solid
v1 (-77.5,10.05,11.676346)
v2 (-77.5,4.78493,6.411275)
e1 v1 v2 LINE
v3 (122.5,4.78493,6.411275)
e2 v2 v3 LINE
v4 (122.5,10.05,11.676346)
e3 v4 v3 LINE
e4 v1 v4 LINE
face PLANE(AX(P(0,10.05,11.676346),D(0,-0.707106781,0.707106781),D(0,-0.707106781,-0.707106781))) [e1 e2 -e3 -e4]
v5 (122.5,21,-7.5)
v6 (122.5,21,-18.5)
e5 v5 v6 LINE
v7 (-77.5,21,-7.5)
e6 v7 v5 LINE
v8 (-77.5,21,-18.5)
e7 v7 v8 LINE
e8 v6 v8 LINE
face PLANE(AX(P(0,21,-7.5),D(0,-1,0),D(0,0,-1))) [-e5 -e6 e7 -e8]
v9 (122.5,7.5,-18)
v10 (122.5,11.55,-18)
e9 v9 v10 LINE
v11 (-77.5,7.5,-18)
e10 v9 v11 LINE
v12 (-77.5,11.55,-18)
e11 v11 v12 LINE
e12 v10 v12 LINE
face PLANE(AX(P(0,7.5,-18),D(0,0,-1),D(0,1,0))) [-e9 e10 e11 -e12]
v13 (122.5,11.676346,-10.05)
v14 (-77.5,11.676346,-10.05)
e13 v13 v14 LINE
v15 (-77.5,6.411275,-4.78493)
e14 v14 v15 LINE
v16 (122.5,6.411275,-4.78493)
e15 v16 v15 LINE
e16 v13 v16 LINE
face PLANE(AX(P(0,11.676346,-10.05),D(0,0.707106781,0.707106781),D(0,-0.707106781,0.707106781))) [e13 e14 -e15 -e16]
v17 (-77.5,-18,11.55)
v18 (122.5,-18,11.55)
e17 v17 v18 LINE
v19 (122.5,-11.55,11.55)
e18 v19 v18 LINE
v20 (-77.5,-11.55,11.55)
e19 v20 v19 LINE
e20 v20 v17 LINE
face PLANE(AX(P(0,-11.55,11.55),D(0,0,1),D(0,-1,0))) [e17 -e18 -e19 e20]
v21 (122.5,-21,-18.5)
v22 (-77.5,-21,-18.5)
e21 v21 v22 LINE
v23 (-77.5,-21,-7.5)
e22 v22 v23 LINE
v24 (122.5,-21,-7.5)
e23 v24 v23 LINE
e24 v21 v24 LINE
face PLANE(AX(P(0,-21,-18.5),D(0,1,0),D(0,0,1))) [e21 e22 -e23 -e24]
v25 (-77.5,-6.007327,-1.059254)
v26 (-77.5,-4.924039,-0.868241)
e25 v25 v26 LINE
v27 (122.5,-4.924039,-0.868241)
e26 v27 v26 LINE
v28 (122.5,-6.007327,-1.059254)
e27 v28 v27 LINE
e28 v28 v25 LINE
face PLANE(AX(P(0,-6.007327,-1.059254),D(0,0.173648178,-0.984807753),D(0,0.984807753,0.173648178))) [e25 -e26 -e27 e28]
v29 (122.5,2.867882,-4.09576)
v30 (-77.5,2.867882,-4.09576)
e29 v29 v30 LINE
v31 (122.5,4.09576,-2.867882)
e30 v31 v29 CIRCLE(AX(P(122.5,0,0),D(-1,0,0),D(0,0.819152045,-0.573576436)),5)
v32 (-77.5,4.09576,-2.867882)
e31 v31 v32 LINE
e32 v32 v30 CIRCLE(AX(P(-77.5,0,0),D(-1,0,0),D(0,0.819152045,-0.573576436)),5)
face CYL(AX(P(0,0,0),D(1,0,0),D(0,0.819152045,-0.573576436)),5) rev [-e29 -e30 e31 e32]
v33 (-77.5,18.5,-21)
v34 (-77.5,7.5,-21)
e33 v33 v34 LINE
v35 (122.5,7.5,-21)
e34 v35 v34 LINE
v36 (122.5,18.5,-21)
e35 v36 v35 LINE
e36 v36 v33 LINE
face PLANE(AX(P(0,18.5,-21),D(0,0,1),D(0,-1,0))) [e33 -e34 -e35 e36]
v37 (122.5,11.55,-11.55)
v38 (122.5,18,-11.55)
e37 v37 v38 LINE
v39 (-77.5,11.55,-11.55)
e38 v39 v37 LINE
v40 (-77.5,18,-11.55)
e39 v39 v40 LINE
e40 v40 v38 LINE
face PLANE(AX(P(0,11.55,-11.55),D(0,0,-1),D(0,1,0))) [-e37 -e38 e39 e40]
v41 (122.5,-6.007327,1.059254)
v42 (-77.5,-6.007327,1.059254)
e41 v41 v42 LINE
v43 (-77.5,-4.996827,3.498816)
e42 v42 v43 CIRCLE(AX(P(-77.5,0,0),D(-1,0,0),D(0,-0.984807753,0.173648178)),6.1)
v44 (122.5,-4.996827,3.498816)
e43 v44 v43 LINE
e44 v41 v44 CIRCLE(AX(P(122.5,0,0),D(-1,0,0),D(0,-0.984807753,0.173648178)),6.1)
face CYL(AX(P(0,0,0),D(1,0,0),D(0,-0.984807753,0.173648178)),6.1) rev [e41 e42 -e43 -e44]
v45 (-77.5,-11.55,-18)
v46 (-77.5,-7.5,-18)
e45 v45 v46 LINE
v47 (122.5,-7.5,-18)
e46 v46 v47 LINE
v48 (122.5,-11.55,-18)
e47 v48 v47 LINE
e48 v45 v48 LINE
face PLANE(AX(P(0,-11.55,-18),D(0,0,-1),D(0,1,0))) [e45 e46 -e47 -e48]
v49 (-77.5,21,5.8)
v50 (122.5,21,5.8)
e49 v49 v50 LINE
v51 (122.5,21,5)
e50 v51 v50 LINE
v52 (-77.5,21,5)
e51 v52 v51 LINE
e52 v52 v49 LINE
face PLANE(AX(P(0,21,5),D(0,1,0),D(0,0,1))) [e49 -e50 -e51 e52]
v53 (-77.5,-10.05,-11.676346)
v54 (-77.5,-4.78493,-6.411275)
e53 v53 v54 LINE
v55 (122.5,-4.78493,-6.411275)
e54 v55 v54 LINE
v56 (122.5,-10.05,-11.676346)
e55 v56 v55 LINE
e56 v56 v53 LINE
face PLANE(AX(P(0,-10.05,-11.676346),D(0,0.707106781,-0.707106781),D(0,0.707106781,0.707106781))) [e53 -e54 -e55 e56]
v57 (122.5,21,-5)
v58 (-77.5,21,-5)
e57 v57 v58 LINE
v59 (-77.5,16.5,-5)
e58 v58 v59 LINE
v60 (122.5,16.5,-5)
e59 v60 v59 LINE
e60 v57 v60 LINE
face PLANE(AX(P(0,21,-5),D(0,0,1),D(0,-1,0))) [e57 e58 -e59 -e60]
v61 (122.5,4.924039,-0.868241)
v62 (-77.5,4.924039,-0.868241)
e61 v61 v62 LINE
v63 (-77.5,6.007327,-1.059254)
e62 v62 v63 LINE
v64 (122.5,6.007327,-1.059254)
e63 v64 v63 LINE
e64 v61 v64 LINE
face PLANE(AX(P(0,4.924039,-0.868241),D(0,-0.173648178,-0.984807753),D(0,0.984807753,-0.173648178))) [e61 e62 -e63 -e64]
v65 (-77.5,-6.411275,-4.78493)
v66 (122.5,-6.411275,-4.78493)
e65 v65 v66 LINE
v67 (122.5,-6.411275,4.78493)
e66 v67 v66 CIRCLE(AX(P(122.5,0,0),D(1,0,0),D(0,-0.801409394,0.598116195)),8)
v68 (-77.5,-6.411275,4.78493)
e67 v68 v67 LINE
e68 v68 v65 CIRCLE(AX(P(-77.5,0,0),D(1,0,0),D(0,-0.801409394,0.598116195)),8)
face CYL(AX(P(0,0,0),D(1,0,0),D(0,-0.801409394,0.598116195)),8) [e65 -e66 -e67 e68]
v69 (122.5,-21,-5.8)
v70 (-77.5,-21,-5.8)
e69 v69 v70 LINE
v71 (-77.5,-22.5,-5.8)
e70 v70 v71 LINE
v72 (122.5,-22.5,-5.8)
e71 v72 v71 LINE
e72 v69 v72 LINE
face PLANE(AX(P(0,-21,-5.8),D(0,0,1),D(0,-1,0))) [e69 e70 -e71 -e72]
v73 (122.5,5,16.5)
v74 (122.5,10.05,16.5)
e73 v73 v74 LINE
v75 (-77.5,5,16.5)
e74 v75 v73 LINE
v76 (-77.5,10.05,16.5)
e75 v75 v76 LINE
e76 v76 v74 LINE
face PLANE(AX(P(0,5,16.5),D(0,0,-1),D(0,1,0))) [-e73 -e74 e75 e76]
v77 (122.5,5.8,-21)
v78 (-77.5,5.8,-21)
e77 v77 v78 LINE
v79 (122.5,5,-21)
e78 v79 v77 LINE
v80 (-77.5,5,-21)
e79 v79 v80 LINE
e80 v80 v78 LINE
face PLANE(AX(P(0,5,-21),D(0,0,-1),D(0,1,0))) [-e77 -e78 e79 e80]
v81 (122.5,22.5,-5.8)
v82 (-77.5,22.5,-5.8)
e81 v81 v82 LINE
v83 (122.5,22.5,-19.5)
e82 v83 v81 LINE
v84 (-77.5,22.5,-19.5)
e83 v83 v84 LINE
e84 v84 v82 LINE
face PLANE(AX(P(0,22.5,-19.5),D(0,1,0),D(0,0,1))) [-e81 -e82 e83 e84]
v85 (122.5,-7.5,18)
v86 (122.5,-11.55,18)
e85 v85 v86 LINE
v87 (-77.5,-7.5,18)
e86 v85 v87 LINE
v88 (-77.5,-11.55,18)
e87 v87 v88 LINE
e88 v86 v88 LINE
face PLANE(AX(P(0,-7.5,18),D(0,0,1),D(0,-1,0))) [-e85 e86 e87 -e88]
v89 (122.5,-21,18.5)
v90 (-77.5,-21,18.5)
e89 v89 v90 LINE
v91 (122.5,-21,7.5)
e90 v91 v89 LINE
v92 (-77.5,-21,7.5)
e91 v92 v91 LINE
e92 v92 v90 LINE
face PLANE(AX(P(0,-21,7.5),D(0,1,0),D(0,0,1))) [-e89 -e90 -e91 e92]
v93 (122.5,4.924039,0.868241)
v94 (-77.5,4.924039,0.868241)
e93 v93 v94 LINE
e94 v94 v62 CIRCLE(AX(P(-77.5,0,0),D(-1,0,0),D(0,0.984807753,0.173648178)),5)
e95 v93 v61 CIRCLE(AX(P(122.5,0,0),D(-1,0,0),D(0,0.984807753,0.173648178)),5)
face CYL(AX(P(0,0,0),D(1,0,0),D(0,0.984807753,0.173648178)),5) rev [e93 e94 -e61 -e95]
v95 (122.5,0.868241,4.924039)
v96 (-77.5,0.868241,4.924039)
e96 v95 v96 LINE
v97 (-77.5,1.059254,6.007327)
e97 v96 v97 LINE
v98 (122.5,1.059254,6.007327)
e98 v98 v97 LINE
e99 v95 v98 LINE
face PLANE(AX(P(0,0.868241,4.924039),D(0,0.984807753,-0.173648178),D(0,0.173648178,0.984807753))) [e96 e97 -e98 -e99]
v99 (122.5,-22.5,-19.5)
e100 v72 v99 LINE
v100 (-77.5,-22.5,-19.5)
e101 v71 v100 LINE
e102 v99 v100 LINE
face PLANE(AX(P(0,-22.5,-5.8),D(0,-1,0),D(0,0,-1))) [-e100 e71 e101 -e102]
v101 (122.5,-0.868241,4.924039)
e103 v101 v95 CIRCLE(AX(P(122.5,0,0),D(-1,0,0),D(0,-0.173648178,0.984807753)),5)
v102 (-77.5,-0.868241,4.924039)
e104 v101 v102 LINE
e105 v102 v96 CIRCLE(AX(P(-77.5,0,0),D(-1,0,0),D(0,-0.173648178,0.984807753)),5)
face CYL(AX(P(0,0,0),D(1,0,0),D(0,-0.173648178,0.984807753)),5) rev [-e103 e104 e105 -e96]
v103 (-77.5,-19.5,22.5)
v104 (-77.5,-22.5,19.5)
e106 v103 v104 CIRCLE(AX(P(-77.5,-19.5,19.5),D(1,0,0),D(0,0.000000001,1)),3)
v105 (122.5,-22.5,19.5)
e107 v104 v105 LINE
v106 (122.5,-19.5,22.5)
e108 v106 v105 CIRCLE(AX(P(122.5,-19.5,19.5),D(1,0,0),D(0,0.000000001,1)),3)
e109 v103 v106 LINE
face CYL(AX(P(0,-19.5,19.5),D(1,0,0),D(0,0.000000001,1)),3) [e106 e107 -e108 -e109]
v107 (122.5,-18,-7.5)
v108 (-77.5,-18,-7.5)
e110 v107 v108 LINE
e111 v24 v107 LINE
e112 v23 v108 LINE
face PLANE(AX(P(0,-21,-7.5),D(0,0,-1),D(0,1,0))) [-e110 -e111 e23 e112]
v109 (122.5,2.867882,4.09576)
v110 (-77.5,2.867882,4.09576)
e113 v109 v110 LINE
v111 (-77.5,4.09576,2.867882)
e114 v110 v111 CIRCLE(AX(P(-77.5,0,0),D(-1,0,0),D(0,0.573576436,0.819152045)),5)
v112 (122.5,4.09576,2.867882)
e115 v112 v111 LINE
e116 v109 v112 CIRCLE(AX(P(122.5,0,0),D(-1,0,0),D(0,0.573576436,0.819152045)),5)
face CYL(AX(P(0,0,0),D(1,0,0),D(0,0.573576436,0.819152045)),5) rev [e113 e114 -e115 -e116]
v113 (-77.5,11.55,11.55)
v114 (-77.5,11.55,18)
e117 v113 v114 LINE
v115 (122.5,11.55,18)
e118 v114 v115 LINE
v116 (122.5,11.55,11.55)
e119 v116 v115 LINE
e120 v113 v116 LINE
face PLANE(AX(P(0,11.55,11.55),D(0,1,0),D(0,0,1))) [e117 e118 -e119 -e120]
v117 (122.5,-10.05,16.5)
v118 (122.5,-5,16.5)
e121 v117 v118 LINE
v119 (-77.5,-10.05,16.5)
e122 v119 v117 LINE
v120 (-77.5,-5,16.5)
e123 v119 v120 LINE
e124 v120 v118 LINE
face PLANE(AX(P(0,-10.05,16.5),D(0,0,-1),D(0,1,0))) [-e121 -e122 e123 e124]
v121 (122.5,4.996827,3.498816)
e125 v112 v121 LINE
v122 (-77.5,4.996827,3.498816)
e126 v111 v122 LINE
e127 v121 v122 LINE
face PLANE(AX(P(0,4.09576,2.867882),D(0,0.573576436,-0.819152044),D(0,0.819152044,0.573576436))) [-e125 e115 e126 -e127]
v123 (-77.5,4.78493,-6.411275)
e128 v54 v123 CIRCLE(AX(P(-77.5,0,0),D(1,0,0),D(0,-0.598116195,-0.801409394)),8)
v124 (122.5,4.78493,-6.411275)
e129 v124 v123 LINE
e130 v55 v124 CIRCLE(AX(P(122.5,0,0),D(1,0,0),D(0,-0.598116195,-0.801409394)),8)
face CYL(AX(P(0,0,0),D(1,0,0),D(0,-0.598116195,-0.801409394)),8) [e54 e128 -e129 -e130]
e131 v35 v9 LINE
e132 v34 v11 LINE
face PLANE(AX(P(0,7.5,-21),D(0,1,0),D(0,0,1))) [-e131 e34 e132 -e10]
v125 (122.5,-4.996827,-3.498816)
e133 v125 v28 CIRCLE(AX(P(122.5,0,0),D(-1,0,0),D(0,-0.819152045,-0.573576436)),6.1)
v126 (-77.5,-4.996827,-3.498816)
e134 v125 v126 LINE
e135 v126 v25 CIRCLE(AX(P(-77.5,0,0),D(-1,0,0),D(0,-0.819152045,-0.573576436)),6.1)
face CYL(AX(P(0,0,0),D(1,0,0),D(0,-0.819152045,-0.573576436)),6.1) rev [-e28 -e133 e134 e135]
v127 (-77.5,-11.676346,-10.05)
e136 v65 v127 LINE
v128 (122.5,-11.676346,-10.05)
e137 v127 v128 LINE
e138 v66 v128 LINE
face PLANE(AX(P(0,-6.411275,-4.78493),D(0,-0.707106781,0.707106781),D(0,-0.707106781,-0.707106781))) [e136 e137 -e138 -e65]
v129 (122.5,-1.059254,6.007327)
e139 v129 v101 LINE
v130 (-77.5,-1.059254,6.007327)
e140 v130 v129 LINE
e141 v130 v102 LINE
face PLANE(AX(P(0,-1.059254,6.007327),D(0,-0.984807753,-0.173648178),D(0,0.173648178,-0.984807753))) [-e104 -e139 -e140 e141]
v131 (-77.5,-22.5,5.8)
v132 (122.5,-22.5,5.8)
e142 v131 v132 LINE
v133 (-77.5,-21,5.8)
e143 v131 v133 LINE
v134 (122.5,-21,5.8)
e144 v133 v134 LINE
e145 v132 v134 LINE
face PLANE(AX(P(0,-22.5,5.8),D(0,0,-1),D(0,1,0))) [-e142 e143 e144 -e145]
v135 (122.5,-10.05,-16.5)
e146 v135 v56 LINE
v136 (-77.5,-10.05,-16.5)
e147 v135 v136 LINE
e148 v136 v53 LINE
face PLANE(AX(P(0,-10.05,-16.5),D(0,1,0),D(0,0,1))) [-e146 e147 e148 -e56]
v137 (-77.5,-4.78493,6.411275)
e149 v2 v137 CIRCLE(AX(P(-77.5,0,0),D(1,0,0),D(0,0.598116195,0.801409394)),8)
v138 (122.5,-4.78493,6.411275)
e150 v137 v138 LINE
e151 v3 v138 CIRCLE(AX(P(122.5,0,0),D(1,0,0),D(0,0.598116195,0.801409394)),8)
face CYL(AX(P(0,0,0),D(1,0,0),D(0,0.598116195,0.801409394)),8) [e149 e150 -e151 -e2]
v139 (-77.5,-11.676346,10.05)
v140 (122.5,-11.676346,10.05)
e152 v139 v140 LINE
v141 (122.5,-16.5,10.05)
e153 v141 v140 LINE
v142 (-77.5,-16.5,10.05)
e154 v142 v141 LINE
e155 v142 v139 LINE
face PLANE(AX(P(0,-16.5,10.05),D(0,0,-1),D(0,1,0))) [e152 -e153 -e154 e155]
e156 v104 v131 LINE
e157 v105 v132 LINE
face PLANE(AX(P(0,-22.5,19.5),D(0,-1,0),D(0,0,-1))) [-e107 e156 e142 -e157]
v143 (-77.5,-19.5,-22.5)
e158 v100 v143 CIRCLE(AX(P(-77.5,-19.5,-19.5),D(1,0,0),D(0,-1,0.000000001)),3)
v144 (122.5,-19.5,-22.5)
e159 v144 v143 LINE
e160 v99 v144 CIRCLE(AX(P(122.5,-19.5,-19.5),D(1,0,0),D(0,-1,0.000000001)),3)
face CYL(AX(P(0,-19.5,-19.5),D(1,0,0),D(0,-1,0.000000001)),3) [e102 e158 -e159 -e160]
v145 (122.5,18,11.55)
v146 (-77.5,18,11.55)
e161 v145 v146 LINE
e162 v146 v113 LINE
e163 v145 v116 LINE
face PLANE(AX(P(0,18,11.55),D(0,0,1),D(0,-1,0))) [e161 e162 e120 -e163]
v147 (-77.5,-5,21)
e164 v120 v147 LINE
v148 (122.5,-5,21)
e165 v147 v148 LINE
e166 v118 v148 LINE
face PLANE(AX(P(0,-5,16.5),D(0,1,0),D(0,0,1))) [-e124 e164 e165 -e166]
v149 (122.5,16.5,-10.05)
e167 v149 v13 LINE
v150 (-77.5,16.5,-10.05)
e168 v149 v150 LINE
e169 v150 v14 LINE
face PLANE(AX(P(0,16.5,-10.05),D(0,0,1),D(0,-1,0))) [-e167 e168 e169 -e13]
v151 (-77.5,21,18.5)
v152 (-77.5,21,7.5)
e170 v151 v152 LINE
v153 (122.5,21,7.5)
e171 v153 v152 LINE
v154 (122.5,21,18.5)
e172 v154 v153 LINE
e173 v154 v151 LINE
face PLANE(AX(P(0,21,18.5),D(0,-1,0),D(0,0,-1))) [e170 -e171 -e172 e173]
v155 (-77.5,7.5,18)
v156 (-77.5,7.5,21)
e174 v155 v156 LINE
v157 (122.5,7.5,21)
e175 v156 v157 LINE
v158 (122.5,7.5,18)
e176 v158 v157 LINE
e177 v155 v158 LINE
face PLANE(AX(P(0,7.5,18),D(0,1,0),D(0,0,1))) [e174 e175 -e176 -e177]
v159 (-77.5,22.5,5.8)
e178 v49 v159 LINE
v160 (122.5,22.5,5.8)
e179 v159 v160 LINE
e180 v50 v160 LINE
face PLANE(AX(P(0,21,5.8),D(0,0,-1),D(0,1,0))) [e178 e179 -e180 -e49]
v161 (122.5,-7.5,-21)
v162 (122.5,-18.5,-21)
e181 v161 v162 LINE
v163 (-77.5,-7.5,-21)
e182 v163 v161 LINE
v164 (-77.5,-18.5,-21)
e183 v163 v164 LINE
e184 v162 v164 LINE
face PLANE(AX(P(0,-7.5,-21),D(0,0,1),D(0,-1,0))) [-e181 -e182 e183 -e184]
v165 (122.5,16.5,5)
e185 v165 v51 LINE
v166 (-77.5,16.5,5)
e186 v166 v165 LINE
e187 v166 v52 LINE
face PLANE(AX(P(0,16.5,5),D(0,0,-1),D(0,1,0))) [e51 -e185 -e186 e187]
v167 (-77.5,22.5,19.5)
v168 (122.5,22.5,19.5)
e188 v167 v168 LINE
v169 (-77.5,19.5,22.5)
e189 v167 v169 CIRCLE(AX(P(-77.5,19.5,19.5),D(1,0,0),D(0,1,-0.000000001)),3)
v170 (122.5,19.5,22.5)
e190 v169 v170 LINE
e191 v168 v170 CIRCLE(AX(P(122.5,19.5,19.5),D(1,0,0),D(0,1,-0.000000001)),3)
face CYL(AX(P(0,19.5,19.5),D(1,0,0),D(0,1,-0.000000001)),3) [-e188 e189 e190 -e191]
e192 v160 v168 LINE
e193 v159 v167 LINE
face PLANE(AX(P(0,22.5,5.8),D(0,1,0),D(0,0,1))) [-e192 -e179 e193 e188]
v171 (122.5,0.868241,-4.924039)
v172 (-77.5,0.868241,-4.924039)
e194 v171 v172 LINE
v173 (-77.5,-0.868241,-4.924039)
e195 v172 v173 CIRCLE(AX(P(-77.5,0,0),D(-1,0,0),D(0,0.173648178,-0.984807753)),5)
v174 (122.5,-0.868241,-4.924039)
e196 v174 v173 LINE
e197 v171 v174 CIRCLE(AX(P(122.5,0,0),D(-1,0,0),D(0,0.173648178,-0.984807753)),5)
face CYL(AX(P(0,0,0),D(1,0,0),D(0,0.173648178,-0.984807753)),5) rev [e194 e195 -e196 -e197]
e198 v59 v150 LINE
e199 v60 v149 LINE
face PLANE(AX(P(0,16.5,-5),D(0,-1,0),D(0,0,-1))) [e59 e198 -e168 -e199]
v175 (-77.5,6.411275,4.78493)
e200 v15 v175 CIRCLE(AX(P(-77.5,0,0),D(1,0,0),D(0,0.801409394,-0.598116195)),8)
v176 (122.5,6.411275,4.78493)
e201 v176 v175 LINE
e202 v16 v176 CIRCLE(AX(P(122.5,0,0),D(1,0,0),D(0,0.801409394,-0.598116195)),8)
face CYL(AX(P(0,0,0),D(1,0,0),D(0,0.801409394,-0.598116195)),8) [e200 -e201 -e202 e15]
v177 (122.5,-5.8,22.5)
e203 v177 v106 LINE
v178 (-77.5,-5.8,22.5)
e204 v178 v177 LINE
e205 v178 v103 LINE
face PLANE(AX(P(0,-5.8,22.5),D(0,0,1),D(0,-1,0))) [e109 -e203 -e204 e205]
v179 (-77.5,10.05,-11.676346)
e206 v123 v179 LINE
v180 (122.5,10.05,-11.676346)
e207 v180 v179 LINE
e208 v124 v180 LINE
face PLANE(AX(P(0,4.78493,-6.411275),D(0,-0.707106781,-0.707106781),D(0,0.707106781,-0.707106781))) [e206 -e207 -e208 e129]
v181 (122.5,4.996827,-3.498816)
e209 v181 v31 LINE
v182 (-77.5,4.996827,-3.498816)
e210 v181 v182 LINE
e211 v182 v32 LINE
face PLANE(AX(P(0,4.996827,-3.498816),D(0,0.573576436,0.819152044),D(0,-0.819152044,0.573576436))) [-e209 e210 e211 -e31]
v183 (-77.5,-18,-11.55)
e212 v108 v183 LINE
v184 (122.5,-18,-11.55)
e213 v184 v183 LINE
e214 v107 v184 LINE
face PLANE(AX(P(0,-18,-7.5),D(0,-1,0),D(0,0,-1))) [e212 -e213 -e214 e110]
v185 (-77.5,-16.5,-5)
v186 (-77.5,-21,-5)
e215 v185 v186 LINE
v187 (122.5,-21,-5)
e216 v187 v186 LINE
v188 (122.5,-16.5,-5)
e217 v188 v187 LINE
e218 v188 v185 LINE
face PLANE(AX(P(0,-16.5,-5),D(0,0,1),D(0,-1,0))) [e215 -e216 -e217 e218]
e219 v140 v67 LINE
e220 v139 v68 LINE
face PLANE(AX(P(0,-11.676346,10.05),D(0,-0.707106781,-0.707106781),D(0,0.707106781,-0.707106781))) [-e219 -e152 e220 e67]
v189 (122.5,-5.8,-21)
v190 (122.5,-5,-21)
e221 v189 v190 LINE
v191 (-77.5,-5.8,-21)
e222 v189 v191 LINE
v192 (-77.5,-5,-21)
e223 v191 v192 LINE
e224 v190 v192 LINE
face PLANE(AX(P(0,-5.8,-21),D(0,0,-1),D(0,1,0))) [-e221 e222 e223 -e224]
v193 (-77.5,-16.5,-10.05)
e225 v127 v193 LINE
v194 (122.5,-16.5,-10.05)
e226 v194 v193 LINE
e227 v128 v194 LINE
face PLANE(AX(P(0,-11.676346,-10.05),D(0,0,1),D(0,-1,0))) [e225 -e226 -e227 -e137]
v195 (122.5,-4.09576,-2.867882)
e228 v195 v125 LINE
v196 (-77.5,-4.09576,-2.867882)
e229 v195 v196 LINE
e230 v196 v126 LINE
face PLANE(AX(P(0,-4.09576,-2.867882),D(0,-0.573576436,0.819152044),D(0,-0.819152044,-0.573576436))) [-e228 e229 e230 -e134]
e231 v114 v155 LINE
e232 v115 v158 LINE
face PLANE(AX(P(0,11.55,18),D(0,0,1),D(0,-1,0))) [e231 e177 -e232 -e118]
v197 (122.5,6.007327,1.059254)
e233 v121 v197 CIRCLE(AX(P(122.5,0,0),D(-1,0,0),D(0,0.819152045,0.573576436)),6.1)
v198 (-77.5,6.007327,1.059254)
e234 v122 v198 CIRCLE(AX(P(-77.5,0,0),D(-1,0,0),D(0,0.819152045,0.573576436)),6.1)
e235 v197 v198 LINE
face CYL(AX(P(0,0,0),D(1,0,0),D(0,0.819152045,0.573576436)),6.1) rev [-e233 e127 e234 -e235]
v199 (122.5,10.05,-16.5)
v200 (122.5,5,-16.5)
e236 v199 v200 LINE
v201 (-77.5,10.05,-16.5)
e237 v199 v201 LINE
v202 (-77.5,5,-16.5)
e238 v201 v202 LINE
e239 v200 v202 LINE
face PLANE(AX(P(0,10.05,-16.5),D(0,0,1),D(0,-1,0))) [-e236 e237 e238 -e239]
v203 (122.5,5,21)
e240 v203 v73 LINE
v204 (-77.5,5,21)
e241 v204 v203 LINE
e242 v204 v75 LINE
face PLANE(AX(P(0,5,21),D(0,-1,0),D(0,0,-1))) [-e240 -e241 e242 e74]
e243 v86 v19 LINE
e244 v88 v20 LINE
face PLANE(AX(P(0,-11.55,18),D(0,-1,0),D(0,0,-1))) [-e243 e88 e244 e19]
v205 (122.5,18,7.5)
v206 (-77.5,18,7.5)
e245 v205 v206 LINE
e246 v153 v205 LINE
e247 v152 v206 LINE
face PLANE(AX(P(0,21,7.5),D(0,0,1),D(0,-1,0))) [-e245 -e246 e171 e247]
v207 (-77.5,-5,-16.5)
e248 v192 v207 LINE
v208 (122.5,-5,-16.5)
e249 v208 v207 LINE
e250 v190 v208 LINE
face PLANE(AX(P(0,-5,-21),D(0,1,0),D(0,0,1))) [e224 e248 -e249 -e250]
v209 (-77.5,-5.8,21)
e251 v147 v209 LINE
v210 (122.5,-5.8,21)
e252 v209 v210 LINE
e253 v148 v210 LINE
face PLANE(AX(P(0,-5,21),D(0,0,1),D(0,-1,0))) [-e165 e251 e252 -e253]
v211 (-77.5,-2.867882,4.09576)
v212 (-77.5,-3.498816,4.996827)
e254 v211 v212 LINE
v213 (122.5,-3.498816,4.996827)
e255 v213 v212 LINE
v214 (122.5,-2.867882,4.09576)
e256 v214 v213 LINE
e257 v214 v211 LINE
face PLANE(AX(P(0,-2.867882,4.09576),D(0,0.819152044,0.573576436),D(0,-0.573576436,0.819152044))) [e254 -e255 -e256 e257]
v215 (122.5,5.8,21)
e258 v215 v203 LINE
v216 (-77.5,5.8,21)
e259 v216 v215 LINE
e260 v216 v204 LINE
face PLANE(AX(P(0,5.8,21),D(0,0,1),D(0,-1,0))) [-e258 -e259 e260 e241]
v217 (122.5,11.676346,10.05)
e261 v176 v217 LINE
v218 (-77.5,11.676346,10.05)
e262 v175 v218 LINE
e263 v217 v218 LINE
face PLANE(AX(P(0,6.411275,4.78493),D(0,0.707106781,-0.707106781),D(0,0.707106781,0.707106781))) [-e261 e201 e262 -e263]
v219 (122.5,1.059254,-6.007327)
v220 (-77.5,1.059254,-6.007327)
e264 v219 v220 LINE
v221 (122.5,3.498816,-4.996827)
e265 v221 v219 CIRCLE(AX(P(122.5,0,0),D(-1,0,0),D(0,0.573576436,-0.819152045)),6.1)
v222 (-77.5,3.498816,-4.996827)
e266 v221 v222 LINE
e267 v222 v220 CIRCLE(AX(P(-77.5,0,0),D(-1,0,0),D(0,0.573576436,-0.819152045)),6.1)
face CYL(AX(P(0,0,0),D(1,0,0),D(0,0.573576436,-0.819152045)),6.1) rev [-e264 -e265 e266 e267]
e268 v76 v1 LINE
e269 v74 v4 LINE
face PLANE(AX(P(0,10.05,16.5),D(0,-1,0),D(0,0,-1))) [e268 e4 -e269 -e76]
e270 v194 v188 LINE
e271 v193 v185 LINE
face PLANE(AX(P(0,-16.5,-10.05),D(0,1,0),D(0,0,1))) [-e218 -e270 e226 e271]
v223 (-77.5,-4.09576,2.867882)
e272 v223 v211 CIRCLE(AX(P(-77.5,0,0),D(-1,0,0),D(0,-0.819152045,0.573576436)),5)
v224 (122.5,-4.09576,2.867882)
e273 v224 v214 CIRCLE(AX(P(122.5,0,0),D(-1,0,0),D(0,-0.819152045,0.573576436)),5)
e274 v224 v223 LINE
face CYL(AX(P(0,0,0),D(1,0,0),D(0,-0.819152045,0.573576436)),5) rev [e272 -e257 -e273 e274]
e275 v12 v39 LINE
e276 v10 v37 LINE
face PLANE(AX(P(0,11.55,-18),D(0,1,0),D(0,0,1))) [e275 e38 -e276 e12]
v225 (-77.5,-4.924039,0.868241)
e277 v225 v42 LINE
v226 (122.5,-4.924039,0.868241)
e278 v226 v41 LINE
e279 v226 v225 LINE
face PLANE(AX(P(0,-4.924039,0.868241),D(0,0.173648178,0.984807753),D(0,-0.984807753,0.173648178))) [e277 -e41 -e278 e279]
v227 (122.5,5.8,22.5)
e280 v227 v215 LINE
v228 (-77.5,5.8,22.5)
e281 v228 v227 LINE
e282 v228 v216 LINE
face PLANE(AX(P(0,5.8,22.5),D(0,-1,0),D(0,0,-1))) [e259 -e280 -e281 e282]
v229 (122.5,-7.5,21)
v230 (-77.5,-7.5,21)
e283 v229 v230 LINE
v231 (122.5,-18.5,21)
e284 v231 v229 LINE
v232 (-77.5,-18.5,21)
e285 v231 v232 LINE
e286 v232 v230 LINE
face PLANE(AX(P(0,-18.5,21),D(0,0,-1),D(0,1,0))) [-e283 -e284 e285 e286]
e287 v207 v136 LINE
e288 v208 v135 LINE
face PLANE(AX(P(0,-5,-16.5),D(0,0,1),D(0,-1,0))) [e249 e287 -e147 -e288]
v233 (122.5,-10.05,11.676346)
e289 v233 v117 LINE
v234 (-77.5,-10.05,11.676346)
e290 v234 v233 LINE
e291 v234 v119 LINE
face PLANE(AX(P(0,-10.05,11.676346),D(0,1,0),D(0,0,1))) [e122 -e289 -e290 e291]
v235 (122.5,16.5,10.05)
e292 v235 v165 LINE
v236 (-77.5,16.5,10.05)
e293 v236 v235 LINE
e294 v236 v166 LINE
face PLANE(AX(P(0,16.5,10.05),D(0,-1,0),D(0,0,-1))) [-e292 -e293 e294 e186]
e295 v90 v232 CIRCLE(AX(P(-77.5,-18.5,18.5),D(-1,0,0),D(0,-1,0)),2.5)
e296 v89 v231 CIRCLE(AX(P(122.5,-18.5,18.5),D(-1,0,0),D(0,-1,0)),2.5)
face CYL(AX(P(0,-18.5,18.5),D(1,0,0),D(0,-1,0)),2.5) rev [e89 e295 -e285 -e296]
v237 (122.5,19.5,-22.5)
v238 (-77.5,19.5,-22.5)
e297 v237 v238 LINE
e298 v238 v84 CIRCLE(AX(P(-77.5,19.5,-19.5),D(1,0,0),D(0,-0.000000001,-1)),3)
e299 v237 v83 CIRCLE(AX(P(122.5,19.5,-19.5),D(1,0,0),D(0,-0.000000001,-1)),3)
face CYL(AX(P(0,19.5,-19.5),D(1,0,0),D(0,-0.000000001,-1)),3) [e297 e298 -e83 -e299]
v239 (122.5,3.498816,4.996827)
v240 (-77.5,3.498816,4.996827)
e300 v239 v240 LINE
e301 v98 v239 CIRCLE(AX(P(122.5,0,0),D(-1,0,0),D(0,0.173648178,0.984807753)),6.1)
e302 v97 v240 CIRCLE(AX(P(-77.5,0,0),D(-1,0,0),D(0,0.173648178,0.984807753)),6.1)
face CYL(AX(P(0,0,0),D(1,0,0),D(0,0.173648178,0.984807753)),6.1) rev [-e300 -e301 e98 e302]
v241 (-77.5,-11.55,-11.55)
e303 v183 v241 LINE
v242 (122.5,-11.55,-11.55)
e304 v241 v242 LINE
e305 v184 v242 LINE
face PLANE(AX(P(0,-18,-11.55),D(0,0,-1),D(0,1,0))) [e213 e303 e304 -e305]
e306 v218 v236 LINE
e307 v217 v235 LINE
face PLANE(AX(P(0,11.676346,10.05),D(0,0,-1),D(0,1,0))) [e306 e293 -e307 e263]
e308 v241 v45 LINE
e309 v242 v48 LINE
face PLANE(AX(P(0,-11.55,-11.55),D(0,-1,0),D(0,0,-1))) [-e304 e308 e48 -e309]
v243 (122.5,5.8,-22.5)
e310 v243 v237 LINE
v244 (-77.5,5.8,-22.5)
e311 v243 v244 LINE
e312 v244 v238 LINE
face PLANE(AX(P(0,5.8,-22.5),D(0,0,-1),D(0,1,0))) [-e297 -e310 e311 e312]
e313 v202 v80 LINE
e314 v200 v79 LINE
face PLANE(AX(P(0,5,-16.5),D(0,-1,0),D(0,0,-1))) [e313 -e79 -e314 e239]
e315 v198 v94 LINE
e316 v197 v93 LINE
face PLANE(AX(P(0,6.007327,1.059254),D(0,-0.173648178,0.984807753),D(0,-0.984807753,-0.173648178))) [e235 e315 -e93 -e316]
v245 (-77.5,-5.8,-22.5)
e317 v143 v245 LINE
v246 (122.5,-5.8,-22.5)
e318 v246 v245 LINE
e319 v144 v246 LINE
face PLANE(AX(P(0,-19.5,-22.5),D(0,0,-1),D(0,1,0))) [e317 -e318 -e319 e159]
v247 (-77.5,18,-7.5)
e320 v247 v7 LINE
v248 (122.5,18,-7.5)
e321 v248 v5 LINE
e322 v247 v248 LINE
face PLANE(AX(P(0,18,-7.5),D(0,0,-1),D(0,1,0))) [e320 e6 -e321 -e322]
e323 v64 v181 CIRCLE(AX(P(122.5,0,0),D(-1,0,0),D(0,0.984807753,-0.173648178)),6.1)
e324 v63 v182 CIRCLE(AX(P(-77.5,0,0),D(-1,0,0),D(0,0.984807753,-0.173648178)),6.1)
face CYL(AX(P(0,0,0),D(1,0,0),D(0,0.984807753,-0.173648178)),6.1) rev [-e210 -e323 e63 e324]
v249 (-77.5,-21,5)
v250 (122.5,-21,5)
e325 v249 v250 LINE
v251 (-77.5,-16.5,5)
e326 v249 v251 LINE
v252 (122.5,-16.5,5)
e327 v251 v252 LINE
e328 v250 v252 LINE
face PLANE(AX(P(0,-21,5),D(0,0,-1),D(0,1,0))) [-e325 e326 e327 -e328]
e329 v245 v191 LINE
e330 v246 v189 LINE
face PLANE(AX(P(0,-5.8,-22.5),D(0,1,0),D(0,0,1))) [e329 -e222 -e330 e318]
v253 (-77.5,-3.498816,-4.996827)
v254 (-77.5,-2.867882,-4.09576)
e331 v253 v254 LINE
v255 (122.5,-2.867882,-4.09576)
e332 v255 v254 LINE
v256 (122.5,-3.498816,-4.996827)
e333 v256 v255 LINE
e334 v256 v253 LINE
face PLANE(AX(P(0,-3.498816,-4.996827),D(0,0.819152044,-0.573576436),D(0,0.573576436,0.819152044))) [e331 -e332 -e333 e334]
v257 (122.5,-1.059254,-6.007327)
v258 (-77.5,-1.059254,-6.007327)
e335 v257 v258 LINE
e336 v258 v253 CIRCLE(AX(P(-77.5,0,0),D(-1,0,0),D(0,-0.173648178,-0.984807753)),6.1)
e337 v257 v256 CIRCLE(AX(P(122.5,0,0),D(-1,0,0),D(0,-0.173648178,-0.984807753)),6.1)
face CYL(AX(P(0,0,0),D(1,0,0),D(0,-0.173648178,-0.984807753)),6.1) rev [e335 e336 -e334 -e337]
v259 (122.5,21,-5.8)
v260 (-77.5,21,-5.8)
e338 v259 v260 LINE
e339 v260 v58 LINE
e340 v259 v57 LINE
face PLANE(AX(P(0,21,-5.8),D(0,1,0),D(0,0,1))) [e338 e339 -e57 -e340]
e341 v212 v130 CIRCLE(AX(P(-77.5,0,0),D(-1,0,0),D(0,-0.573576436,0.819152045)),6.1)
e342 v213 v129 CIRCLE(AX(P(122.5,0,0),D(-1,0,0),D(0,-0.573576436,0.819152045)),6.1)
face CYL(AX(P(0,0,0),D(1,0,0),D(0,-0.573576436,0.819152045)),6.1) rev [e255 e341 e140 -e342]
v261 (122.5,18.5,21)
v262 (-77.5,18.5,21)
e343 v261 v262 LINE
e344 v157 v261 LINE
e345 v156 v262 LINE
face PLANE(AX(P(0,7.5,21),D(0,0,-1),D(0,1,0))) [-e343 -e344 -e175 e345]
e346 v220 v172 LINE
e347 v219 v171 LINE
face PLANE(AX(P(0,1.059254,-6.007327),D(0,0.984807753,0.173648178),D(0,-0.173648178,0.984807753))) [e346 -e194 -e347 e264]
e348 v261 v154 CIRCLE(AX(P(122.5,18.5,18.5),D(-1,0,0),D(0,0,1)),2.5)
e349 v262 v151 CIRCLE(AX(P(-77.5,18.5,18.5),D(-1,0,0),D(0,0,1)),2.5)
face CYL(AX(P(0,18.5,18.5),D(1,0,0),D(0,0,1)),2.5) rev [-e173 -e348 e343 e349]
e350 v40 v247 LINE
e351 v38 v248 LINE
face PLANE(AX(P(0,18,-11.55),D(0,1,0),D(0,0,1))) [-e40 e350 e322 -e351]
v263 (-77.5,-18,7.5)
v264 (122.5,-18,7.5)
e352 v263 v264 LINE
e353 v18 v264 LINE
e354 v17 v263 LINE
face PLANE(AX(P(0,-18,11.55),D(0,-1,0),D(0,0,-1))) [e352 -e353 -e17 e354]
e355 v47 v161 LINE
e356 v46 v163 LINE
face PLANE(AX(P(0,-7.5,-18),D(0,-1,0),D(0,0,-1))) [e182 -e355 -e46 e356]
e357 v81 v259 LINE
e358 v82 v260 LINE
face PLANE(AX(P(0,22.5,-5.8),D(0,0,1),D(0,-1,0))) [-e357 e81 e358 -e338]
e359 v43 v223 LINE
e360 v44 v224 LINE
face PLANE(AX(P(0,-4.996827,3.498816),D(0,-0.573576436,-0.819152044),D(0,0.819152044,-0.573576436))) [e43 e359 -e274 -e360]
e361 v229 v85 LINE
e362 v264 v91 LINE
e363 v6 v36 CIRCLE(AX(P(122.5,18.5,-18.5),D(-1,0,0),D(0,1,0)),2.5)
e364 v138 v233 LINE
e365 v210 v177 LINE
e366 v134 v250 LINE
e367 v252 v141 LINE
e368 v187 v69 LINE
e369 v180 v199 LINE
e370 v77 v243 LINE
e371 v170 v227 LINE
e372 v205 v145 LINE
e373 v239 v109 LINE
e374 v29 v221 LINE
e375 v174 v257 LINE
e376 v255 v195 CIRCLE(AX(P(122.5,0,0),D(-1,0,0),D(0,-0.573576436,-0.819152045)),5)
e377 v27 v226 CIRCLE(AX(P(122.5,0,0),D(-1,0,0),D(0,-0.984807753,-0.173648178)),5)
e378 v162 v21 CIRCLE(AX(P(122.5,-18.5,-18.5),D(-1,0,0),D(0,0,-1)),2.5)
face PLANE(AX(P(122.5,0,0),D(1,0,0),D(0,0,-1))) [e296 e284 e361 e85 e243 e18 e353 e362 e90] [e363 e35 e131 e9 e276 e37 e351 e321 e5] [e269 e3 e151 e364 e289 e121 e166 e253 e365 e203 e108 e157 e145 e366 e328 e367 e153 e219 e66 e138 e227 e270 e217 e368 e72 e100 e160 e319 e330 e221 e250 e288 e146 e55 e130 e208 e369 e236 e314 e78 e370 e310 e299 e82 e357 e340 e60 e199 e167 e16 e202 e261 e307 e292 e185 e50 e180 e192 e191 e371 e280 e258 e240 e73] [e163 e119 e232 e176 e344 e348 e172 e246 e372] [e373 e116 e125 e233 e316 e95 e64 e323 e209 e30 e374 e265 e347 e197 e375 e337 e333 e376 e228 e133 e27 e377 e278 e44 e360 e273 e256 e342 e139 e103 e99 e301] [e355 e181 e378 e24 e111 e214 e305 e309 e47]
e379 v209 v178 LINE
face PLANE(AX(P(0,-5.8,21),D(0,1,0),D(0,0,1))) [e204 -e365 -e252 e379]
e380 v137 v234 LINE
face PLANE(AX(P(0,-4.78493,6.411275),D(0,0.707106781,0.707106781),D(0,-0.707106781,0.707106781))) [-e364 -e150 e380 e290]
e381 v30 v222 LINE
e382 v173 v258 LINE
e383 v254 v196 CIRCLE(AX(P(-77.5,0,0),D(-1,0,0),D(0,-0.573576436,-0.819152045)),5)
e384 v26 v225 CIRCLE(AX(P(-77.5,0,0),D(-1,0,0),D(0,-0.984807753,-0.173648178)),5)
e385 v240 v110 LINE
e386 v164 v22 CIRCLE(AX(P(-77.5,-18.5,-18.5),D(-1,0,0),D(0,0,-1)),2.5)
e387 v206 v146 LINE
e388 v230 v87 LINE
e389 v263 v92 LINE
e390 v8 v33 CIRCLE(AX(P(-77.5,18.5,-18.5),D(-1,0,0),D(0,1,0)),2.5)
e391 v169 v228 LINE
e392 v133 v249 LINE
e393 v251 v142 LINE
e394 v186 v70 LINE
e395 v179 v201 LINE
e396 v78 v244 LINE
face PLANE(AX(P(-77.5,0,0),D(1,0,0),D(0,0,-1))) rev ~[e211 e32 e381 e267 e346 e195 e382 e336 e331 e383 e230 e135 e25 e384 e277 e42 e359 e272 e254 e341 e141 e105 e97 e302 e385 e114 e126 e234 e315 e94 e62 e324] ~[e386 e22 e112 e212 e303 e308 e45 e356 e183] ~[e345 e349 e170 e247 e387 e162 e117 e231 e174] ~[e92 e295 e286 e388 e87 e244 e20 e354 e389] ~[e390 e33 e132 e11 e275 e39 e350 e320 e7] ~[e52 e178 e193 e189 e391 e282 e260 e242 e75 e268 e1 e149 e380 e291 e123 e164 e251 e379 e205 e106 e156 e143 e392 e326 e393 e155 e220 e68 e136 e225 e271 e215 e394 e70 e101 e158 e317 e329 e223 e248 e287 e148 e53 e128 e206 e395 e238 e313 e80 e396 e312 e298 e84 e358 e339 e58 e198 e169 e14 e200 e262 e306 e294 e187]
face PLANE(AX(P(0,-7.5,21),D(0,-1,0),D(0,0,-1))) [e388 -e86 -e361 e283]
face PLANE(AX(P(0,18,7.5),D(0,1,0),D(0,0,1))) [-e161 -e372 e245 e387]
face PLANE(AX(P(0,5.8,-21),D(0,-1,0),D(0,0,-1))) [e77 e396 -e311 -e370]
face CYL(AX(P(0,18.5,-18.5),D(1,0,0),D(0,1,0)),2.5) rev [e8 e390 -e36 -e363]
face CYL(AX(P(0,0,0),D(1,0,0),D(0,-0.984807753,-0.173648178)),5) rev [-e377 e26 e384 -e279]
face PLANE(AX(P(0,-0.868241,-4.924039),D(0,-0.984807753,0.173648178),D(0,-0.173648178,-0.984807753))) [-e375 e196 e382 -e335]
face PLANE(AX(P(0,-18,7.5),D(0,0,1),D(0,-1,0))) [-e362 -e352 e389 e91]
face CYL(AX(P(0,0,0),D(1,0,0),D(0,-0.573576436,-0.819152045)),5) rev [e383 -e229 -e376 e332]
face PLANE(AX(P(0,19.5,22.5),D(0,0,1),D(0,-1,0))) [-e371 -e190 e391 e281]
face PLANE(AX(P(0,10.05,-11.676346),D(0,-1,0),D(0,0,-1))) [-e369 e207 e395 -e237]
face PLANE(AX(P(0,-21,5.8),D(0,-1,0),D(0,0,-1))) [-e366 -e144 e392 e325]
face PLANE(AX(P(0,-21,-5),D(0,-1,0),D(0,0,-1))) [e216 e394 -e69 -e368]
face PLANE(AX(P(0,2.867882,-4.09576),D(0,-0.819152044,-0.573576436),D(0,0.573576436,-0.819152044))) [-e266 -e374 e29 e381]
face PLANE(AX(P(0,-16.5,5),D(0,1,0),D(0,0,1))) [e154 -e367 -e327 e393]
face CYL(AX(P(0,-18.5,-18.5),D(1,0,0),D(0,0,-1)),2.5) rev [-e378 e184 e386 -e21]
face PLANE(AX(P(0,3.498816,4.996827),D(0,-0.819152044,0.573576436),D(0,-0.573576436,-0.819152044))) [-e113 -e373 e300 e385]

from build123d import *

# Parameters (mm, degrees)
BR_EXTRUDE_DEPTH      = 122.5
BR_EXTRUDE_DEPTH_BACK = 77.5


with BuildPart() as part:
    # Sketch2 → BR_Extrude (new body, two sides)
    with BuildSketch(Plane(origin=(0, 0, 0), x_dir=(0, 0, -1), z_dir=(1, 0, 0))) as br_extrude_sk:
        with BuildLine():
            Line((-10.05, 11.676345597), (-10.05, 16.5))
            Line((-10.05, 16.5), (-5, 16.5))
            Line((-5, 16.5), (-5, 21))
            Line((-5, 21), (-5.8, 21))
            Line((-5.8, 21), (-5.8, 22.5))
            Line((-5.8, 22.5), (-19.5, 22.5))
            ThreePointArc((-19.5, 22.5), (-21.621320344, 21.621320344), (-22.5, 19.5))
            Line((-22.5, 19.5), (-22.5, 5.8))
            Line((-22.5, 5.8), (-21, 5.8))
            Line((-21, 5.8), (-21, 5))
            Line((-21, 5), (-16.5, 5))
            Line((-16.5, 5), (-16.5, 10.05))
            Line((-16.5, 10.05), (-11.676345597, 10.05))
            Line((-11.676345597, 10.05), (-6.411275155, 4.784929559))
            ThreePointArc((-6.411275155, 4.784929559), (-8, 0), (-6.411275155, -4.784929559))
            Line((-6.411275155, -4.784929559), (-11.676345597, -10.05))
            Line((-11.676345597, -10.05), (-16.5, -10.05))
            Line((-16.5, -10.05), (-16.5, -5))
            Line((-16.5, -5), (-21, -5))
            Line((-21, -5), (-21, -5.8))
            Line((-21, -5.8), (-22.5, -5.8))
            Line((-22.5, -5.8), (-22.5, -19.5))
            ThreePointArc((-22.5, -19.5), (-21.621320344, -21.621320344), (-19.5, -22.5))
            Line((-19.5, -22.5), (-5.8, -22.5))
            Line((-5.8, -22.5), (-5.8, -21))
            Line((-5.8, -21), (-5, -21))
            Line((-5, -21), (-5, -16.5))
            Line((-5, -16.5), (-10.05, -16.5))
            Line((-10.05, -16.5), (-10.05, -11.676345597))
            Line((-10.05, -11.676345597), (-4.784929559, -6.411275155))
            ThreePointArc((-4.784929559, -6.411275155), (0, -8), (4.784929559, -6.411275155))
            Line((4.784929559, -6.411275155), (10.05, -11.676345597))
            Line((10.05, -11.676345597), (10.05, -16.5))
            Line((10.05, -16.5), (5, -16.5))
            Line((5, -16.5), (5, -21))
            Line((5, -21), (5.8, -21))
            Line((5.8, -21), (5.8, -22.5))
            Line((5.8, -22.5), (19.5, -22.5))
            ThreePointArc((19.5, -22.5), (21.621320344, -21.621320344), (22.5, -19.5))
            Line((22.5, -19.5), (22.5, -5.8))
            Line((22.5, -5.8), (21, -5.8))
            Line((21, -5.8), (21, -5))
            Line((21, -5), (16.5, -5))
            Line((16.5, -5), (16.5, -10.05))
            Line((16.5, -10.05), (11.676345597, -10.05))
            Line((11.676345597, -10.05), (6.411275155, -4.784929559))
            ThreePointArc((6.411275155, -4.784929559), (8, 0), (6.411275155, 4.784929559))
            Line((6.411275155, 4.784929559), (11.676345597, 10.05))
            Line((11.676345597, 10.05), (16.5, 10.05))
            Line((16.5, 10.05), (16.5, 5))
            Line((16.5, 5), (21, 5))
            Line((21, 5), (21, 5.8))
            Line((21, 5.8), (22.5, 5.8))
            Line((22.5, 5.8), (22.5, 19.5))
            ThreePointArc((22.5, 19.5), (21.621320344, 21.621320344), (19.5, 22.5))
            Line((19.5, 22.5), (5.8, 22.5))
            Line((5.8, 22.5), (5.8, 21))
            Line((5.8, 21), (5, 21))
            Line((5, 21), (5, 16.5))
            Line((5, 16.5), (10.05, 16.5))
            Line((10.05, 16.5), (10.05, 11.676345597))
            Line((10.05, 11.676345597), (4.784929559, 6.411275155))
            ThreePointArc((4.784929559, 6.411275155), (0, 8), (-4.784929559, 6.411275155))
            Line((-4.784929559, 6.411275155), (-10.05, 11.676345597))
        make_face()
        with BuildLine():
            Line((11.55, 11.55), (11.55, 18))
            Line((11.55, 18), (7.5, 18))
            Line((7.5, 18), (7.5, 21))
            Line((7.5, 21), (18.5, 21))
            ThreePointArc((18.5, 21), (20.267766953, 20.267766953), (21, 18.5))
            Line((21, 18.5), (21, 7.5))
            Line((21, 7.5), (18, 7.5))
            Line((18, 7.5), (18, 11.55))
            Line((18, 11.55), (11.55, 11.55))
        make_face(mode=Mode.SUBTRACT)
        with BuildLine():
            Line((11.55, -11.55), (18, -11.55))
            Line((18, -11.55), (18, -7.5))
            Line((18, -7.5), (21, -7.5))
            Line((21, -7.5), (21, -18.5))
            ThreePointArc((21, -18.5), (20.267766953, -20.267766953), (18.5, -21))
            Line((18.5, -21), (7.5, -21))
            Line((7.5, -21), (7.5, -18))
            Line((7.5, -18), (11.55, -18))
            Line((11.55, -18), (11.55, -11.55))
        make_face(mode=Mode.SUBTRACT)
        with BuildLine():
            Line((-11.55, 11.55), (-18, 11.55))
            Line((-18, 11.55), (-18, 7.5))
            Line((-18, 7.5), (-21, 7.5))
            Line((-21, 7.5), (-21, 18.5))
            ThreePointArc((-21, 18.5), (-20.267766953, 20.267766953), (-18.5, 21))
            Line((-18.5, 21), (-7.5, 21))
            Line((-7.5, 21), (-7.5, 18))
            Line((-7.5, 18), (-11.55, 18))
            Line((-11.55, 18), (-11.55, 11.55))
        make_face(mode=Mode.SUBTRACT)
        with BuildLine():
            Line((-11.55, -11.55), (-11.55, -18))
            Line((-11.55, -18), (-7.5, -18))
            Line((-7.5, -18), (-7.5, -21))
            Line((-7.5, -21), (-18.5, -21))
            ThreePointArc((-18.5, -21), (-20.267766953, -20.267766953), (-21, -18.5))
            Line((-21, -18.5), (-21, -7.5))
            Line((-21, -7.5), (-18, -7.5))
            Line((-18, -7.5), (-18, -11.55))
            Line((-18, -11.55), (-11.55, -11.55))
        make_face(mode=Mode.SUBTRACT)
        with BuildLine():
            Line((-6.007327293, -1.059253884), (-4.924038765, -0.868240888))
            ThreePointArc((-4.924038765, -0.868240888), (-5, 0), (-4.924038765, 0.868240888))
            Line((-4.924038765, 0.868240888), (-6.007327293, 1.059253884))
            ThreePointArc((-6.007327293, 1.059253884), (-5.635665148, 2.334368937), (-4.99682747, 3.498816262))
            Line((-4.99682747, 3.498816262), (-4.095760221, 2.867882182))
            ThreePointArc((-4.095760221, 2.867882182), (-3.535533906, 3.535533906), (-2.867882182, 4.095760221))
            Line((-2.867882182, 4.095760221), (-3.498816262, 4.99682747))
            ThreePointArc((-3.498816262, 4.99682747), (-2.334368937, 5.635665148), (-1.059253884, 6.007327293))
            Line((-1.059253884, 6.007327293), (-0.868240888, 4.924038765))
            ThreePointArc((-0.868240888, 4.924038765), (0, 5), (0.868240888, 4.924038765))
            Line((0.868240888, 4.924038765), (1.059253884, 6.007327293))
            ThreePointArc((1.059253884, 6.007327293), (2.334368937, 5.635665148), (3.498816262, 4.99682747))
            Line((3.498816262, 4.99682747), (2.867882182, 4.095760221))
            ThreePointArc((2.867882182, 4.095760221), (3.535533906, 3.535533906), (4.095760221, 2.867882182))
            Line((4.095760221, 2.867882182), (4.99682747, 3.498816262))
            ThreePointArc((4.99682747, 3.498816262), (5.635665148, 2.334368937), (6.007327293, 1.059253884))
            Line((6.007327293, 1.059253884), (4.924038765, 0.868240888))
            ThreePointArc((4.924038765, 0.868240888), (5, 0), (4.924038765, -0.868240888))
            Line((4.924038765, -0.868240888), (6.007327293, -1.059253884))
            ThreePointArc((6.007327293, -1.059253884), (5.635665148, -2.334368937), (4.99682747, -3.498816262))
            Line((4.99682747, -3.498816262), (4.095760221, -2.867882182))
            ThreePointArc((4.095760221, -2.867882182), (3.535533906, -3.535533906), (2.867882182, -4.095760221))
            Line((2.867882182, -4.095760221), (3.498816262, -4.99682747))
            ThreePointArc((3.498816262, -4.99682747), (2.334368937, -5.635665148), (1.059253884, -6.007327293))
            Line((1.059253884, -6.007327293), (0.868240888, -4.924038765))
            ThreePointArc((0.868240888, -4.924038765), (0, -5), (-0.868240888, -4.924038765))
            Line((-0.868240888, -4.924038765), (-1.059253884, -6.007327293))
            ThreePointArc((-1.059253884, -6.007327293), (-2.334368937, -5.635665148), (-3.498816262, -4.99682747))
            Line((-3.498816262, -4.99682747), (-2.867882182, -4.095760221))
            ThreePointArc((-2.867882182, -4.095760221), (-3.535533906, -3.535533906), (-4.095760221, -2.867882182))
            Line((-4.095760221, -2.867882182), (-4.99682747, -3.498816262))
            ThreePointArc((-4.99682747, -3.498816262), (-5.635665148, -2.334368937), (-6.007327293, -1.059253884))
        make_face(mode=Mode.SUBTRACT)
    extrude(amount=BR_EXTRUDE_DEPTH)
    extrude(br_extrude_sk.sketch, amount=-BR_EXTRUDE_DEPTH_BACK)


solid = part.part
